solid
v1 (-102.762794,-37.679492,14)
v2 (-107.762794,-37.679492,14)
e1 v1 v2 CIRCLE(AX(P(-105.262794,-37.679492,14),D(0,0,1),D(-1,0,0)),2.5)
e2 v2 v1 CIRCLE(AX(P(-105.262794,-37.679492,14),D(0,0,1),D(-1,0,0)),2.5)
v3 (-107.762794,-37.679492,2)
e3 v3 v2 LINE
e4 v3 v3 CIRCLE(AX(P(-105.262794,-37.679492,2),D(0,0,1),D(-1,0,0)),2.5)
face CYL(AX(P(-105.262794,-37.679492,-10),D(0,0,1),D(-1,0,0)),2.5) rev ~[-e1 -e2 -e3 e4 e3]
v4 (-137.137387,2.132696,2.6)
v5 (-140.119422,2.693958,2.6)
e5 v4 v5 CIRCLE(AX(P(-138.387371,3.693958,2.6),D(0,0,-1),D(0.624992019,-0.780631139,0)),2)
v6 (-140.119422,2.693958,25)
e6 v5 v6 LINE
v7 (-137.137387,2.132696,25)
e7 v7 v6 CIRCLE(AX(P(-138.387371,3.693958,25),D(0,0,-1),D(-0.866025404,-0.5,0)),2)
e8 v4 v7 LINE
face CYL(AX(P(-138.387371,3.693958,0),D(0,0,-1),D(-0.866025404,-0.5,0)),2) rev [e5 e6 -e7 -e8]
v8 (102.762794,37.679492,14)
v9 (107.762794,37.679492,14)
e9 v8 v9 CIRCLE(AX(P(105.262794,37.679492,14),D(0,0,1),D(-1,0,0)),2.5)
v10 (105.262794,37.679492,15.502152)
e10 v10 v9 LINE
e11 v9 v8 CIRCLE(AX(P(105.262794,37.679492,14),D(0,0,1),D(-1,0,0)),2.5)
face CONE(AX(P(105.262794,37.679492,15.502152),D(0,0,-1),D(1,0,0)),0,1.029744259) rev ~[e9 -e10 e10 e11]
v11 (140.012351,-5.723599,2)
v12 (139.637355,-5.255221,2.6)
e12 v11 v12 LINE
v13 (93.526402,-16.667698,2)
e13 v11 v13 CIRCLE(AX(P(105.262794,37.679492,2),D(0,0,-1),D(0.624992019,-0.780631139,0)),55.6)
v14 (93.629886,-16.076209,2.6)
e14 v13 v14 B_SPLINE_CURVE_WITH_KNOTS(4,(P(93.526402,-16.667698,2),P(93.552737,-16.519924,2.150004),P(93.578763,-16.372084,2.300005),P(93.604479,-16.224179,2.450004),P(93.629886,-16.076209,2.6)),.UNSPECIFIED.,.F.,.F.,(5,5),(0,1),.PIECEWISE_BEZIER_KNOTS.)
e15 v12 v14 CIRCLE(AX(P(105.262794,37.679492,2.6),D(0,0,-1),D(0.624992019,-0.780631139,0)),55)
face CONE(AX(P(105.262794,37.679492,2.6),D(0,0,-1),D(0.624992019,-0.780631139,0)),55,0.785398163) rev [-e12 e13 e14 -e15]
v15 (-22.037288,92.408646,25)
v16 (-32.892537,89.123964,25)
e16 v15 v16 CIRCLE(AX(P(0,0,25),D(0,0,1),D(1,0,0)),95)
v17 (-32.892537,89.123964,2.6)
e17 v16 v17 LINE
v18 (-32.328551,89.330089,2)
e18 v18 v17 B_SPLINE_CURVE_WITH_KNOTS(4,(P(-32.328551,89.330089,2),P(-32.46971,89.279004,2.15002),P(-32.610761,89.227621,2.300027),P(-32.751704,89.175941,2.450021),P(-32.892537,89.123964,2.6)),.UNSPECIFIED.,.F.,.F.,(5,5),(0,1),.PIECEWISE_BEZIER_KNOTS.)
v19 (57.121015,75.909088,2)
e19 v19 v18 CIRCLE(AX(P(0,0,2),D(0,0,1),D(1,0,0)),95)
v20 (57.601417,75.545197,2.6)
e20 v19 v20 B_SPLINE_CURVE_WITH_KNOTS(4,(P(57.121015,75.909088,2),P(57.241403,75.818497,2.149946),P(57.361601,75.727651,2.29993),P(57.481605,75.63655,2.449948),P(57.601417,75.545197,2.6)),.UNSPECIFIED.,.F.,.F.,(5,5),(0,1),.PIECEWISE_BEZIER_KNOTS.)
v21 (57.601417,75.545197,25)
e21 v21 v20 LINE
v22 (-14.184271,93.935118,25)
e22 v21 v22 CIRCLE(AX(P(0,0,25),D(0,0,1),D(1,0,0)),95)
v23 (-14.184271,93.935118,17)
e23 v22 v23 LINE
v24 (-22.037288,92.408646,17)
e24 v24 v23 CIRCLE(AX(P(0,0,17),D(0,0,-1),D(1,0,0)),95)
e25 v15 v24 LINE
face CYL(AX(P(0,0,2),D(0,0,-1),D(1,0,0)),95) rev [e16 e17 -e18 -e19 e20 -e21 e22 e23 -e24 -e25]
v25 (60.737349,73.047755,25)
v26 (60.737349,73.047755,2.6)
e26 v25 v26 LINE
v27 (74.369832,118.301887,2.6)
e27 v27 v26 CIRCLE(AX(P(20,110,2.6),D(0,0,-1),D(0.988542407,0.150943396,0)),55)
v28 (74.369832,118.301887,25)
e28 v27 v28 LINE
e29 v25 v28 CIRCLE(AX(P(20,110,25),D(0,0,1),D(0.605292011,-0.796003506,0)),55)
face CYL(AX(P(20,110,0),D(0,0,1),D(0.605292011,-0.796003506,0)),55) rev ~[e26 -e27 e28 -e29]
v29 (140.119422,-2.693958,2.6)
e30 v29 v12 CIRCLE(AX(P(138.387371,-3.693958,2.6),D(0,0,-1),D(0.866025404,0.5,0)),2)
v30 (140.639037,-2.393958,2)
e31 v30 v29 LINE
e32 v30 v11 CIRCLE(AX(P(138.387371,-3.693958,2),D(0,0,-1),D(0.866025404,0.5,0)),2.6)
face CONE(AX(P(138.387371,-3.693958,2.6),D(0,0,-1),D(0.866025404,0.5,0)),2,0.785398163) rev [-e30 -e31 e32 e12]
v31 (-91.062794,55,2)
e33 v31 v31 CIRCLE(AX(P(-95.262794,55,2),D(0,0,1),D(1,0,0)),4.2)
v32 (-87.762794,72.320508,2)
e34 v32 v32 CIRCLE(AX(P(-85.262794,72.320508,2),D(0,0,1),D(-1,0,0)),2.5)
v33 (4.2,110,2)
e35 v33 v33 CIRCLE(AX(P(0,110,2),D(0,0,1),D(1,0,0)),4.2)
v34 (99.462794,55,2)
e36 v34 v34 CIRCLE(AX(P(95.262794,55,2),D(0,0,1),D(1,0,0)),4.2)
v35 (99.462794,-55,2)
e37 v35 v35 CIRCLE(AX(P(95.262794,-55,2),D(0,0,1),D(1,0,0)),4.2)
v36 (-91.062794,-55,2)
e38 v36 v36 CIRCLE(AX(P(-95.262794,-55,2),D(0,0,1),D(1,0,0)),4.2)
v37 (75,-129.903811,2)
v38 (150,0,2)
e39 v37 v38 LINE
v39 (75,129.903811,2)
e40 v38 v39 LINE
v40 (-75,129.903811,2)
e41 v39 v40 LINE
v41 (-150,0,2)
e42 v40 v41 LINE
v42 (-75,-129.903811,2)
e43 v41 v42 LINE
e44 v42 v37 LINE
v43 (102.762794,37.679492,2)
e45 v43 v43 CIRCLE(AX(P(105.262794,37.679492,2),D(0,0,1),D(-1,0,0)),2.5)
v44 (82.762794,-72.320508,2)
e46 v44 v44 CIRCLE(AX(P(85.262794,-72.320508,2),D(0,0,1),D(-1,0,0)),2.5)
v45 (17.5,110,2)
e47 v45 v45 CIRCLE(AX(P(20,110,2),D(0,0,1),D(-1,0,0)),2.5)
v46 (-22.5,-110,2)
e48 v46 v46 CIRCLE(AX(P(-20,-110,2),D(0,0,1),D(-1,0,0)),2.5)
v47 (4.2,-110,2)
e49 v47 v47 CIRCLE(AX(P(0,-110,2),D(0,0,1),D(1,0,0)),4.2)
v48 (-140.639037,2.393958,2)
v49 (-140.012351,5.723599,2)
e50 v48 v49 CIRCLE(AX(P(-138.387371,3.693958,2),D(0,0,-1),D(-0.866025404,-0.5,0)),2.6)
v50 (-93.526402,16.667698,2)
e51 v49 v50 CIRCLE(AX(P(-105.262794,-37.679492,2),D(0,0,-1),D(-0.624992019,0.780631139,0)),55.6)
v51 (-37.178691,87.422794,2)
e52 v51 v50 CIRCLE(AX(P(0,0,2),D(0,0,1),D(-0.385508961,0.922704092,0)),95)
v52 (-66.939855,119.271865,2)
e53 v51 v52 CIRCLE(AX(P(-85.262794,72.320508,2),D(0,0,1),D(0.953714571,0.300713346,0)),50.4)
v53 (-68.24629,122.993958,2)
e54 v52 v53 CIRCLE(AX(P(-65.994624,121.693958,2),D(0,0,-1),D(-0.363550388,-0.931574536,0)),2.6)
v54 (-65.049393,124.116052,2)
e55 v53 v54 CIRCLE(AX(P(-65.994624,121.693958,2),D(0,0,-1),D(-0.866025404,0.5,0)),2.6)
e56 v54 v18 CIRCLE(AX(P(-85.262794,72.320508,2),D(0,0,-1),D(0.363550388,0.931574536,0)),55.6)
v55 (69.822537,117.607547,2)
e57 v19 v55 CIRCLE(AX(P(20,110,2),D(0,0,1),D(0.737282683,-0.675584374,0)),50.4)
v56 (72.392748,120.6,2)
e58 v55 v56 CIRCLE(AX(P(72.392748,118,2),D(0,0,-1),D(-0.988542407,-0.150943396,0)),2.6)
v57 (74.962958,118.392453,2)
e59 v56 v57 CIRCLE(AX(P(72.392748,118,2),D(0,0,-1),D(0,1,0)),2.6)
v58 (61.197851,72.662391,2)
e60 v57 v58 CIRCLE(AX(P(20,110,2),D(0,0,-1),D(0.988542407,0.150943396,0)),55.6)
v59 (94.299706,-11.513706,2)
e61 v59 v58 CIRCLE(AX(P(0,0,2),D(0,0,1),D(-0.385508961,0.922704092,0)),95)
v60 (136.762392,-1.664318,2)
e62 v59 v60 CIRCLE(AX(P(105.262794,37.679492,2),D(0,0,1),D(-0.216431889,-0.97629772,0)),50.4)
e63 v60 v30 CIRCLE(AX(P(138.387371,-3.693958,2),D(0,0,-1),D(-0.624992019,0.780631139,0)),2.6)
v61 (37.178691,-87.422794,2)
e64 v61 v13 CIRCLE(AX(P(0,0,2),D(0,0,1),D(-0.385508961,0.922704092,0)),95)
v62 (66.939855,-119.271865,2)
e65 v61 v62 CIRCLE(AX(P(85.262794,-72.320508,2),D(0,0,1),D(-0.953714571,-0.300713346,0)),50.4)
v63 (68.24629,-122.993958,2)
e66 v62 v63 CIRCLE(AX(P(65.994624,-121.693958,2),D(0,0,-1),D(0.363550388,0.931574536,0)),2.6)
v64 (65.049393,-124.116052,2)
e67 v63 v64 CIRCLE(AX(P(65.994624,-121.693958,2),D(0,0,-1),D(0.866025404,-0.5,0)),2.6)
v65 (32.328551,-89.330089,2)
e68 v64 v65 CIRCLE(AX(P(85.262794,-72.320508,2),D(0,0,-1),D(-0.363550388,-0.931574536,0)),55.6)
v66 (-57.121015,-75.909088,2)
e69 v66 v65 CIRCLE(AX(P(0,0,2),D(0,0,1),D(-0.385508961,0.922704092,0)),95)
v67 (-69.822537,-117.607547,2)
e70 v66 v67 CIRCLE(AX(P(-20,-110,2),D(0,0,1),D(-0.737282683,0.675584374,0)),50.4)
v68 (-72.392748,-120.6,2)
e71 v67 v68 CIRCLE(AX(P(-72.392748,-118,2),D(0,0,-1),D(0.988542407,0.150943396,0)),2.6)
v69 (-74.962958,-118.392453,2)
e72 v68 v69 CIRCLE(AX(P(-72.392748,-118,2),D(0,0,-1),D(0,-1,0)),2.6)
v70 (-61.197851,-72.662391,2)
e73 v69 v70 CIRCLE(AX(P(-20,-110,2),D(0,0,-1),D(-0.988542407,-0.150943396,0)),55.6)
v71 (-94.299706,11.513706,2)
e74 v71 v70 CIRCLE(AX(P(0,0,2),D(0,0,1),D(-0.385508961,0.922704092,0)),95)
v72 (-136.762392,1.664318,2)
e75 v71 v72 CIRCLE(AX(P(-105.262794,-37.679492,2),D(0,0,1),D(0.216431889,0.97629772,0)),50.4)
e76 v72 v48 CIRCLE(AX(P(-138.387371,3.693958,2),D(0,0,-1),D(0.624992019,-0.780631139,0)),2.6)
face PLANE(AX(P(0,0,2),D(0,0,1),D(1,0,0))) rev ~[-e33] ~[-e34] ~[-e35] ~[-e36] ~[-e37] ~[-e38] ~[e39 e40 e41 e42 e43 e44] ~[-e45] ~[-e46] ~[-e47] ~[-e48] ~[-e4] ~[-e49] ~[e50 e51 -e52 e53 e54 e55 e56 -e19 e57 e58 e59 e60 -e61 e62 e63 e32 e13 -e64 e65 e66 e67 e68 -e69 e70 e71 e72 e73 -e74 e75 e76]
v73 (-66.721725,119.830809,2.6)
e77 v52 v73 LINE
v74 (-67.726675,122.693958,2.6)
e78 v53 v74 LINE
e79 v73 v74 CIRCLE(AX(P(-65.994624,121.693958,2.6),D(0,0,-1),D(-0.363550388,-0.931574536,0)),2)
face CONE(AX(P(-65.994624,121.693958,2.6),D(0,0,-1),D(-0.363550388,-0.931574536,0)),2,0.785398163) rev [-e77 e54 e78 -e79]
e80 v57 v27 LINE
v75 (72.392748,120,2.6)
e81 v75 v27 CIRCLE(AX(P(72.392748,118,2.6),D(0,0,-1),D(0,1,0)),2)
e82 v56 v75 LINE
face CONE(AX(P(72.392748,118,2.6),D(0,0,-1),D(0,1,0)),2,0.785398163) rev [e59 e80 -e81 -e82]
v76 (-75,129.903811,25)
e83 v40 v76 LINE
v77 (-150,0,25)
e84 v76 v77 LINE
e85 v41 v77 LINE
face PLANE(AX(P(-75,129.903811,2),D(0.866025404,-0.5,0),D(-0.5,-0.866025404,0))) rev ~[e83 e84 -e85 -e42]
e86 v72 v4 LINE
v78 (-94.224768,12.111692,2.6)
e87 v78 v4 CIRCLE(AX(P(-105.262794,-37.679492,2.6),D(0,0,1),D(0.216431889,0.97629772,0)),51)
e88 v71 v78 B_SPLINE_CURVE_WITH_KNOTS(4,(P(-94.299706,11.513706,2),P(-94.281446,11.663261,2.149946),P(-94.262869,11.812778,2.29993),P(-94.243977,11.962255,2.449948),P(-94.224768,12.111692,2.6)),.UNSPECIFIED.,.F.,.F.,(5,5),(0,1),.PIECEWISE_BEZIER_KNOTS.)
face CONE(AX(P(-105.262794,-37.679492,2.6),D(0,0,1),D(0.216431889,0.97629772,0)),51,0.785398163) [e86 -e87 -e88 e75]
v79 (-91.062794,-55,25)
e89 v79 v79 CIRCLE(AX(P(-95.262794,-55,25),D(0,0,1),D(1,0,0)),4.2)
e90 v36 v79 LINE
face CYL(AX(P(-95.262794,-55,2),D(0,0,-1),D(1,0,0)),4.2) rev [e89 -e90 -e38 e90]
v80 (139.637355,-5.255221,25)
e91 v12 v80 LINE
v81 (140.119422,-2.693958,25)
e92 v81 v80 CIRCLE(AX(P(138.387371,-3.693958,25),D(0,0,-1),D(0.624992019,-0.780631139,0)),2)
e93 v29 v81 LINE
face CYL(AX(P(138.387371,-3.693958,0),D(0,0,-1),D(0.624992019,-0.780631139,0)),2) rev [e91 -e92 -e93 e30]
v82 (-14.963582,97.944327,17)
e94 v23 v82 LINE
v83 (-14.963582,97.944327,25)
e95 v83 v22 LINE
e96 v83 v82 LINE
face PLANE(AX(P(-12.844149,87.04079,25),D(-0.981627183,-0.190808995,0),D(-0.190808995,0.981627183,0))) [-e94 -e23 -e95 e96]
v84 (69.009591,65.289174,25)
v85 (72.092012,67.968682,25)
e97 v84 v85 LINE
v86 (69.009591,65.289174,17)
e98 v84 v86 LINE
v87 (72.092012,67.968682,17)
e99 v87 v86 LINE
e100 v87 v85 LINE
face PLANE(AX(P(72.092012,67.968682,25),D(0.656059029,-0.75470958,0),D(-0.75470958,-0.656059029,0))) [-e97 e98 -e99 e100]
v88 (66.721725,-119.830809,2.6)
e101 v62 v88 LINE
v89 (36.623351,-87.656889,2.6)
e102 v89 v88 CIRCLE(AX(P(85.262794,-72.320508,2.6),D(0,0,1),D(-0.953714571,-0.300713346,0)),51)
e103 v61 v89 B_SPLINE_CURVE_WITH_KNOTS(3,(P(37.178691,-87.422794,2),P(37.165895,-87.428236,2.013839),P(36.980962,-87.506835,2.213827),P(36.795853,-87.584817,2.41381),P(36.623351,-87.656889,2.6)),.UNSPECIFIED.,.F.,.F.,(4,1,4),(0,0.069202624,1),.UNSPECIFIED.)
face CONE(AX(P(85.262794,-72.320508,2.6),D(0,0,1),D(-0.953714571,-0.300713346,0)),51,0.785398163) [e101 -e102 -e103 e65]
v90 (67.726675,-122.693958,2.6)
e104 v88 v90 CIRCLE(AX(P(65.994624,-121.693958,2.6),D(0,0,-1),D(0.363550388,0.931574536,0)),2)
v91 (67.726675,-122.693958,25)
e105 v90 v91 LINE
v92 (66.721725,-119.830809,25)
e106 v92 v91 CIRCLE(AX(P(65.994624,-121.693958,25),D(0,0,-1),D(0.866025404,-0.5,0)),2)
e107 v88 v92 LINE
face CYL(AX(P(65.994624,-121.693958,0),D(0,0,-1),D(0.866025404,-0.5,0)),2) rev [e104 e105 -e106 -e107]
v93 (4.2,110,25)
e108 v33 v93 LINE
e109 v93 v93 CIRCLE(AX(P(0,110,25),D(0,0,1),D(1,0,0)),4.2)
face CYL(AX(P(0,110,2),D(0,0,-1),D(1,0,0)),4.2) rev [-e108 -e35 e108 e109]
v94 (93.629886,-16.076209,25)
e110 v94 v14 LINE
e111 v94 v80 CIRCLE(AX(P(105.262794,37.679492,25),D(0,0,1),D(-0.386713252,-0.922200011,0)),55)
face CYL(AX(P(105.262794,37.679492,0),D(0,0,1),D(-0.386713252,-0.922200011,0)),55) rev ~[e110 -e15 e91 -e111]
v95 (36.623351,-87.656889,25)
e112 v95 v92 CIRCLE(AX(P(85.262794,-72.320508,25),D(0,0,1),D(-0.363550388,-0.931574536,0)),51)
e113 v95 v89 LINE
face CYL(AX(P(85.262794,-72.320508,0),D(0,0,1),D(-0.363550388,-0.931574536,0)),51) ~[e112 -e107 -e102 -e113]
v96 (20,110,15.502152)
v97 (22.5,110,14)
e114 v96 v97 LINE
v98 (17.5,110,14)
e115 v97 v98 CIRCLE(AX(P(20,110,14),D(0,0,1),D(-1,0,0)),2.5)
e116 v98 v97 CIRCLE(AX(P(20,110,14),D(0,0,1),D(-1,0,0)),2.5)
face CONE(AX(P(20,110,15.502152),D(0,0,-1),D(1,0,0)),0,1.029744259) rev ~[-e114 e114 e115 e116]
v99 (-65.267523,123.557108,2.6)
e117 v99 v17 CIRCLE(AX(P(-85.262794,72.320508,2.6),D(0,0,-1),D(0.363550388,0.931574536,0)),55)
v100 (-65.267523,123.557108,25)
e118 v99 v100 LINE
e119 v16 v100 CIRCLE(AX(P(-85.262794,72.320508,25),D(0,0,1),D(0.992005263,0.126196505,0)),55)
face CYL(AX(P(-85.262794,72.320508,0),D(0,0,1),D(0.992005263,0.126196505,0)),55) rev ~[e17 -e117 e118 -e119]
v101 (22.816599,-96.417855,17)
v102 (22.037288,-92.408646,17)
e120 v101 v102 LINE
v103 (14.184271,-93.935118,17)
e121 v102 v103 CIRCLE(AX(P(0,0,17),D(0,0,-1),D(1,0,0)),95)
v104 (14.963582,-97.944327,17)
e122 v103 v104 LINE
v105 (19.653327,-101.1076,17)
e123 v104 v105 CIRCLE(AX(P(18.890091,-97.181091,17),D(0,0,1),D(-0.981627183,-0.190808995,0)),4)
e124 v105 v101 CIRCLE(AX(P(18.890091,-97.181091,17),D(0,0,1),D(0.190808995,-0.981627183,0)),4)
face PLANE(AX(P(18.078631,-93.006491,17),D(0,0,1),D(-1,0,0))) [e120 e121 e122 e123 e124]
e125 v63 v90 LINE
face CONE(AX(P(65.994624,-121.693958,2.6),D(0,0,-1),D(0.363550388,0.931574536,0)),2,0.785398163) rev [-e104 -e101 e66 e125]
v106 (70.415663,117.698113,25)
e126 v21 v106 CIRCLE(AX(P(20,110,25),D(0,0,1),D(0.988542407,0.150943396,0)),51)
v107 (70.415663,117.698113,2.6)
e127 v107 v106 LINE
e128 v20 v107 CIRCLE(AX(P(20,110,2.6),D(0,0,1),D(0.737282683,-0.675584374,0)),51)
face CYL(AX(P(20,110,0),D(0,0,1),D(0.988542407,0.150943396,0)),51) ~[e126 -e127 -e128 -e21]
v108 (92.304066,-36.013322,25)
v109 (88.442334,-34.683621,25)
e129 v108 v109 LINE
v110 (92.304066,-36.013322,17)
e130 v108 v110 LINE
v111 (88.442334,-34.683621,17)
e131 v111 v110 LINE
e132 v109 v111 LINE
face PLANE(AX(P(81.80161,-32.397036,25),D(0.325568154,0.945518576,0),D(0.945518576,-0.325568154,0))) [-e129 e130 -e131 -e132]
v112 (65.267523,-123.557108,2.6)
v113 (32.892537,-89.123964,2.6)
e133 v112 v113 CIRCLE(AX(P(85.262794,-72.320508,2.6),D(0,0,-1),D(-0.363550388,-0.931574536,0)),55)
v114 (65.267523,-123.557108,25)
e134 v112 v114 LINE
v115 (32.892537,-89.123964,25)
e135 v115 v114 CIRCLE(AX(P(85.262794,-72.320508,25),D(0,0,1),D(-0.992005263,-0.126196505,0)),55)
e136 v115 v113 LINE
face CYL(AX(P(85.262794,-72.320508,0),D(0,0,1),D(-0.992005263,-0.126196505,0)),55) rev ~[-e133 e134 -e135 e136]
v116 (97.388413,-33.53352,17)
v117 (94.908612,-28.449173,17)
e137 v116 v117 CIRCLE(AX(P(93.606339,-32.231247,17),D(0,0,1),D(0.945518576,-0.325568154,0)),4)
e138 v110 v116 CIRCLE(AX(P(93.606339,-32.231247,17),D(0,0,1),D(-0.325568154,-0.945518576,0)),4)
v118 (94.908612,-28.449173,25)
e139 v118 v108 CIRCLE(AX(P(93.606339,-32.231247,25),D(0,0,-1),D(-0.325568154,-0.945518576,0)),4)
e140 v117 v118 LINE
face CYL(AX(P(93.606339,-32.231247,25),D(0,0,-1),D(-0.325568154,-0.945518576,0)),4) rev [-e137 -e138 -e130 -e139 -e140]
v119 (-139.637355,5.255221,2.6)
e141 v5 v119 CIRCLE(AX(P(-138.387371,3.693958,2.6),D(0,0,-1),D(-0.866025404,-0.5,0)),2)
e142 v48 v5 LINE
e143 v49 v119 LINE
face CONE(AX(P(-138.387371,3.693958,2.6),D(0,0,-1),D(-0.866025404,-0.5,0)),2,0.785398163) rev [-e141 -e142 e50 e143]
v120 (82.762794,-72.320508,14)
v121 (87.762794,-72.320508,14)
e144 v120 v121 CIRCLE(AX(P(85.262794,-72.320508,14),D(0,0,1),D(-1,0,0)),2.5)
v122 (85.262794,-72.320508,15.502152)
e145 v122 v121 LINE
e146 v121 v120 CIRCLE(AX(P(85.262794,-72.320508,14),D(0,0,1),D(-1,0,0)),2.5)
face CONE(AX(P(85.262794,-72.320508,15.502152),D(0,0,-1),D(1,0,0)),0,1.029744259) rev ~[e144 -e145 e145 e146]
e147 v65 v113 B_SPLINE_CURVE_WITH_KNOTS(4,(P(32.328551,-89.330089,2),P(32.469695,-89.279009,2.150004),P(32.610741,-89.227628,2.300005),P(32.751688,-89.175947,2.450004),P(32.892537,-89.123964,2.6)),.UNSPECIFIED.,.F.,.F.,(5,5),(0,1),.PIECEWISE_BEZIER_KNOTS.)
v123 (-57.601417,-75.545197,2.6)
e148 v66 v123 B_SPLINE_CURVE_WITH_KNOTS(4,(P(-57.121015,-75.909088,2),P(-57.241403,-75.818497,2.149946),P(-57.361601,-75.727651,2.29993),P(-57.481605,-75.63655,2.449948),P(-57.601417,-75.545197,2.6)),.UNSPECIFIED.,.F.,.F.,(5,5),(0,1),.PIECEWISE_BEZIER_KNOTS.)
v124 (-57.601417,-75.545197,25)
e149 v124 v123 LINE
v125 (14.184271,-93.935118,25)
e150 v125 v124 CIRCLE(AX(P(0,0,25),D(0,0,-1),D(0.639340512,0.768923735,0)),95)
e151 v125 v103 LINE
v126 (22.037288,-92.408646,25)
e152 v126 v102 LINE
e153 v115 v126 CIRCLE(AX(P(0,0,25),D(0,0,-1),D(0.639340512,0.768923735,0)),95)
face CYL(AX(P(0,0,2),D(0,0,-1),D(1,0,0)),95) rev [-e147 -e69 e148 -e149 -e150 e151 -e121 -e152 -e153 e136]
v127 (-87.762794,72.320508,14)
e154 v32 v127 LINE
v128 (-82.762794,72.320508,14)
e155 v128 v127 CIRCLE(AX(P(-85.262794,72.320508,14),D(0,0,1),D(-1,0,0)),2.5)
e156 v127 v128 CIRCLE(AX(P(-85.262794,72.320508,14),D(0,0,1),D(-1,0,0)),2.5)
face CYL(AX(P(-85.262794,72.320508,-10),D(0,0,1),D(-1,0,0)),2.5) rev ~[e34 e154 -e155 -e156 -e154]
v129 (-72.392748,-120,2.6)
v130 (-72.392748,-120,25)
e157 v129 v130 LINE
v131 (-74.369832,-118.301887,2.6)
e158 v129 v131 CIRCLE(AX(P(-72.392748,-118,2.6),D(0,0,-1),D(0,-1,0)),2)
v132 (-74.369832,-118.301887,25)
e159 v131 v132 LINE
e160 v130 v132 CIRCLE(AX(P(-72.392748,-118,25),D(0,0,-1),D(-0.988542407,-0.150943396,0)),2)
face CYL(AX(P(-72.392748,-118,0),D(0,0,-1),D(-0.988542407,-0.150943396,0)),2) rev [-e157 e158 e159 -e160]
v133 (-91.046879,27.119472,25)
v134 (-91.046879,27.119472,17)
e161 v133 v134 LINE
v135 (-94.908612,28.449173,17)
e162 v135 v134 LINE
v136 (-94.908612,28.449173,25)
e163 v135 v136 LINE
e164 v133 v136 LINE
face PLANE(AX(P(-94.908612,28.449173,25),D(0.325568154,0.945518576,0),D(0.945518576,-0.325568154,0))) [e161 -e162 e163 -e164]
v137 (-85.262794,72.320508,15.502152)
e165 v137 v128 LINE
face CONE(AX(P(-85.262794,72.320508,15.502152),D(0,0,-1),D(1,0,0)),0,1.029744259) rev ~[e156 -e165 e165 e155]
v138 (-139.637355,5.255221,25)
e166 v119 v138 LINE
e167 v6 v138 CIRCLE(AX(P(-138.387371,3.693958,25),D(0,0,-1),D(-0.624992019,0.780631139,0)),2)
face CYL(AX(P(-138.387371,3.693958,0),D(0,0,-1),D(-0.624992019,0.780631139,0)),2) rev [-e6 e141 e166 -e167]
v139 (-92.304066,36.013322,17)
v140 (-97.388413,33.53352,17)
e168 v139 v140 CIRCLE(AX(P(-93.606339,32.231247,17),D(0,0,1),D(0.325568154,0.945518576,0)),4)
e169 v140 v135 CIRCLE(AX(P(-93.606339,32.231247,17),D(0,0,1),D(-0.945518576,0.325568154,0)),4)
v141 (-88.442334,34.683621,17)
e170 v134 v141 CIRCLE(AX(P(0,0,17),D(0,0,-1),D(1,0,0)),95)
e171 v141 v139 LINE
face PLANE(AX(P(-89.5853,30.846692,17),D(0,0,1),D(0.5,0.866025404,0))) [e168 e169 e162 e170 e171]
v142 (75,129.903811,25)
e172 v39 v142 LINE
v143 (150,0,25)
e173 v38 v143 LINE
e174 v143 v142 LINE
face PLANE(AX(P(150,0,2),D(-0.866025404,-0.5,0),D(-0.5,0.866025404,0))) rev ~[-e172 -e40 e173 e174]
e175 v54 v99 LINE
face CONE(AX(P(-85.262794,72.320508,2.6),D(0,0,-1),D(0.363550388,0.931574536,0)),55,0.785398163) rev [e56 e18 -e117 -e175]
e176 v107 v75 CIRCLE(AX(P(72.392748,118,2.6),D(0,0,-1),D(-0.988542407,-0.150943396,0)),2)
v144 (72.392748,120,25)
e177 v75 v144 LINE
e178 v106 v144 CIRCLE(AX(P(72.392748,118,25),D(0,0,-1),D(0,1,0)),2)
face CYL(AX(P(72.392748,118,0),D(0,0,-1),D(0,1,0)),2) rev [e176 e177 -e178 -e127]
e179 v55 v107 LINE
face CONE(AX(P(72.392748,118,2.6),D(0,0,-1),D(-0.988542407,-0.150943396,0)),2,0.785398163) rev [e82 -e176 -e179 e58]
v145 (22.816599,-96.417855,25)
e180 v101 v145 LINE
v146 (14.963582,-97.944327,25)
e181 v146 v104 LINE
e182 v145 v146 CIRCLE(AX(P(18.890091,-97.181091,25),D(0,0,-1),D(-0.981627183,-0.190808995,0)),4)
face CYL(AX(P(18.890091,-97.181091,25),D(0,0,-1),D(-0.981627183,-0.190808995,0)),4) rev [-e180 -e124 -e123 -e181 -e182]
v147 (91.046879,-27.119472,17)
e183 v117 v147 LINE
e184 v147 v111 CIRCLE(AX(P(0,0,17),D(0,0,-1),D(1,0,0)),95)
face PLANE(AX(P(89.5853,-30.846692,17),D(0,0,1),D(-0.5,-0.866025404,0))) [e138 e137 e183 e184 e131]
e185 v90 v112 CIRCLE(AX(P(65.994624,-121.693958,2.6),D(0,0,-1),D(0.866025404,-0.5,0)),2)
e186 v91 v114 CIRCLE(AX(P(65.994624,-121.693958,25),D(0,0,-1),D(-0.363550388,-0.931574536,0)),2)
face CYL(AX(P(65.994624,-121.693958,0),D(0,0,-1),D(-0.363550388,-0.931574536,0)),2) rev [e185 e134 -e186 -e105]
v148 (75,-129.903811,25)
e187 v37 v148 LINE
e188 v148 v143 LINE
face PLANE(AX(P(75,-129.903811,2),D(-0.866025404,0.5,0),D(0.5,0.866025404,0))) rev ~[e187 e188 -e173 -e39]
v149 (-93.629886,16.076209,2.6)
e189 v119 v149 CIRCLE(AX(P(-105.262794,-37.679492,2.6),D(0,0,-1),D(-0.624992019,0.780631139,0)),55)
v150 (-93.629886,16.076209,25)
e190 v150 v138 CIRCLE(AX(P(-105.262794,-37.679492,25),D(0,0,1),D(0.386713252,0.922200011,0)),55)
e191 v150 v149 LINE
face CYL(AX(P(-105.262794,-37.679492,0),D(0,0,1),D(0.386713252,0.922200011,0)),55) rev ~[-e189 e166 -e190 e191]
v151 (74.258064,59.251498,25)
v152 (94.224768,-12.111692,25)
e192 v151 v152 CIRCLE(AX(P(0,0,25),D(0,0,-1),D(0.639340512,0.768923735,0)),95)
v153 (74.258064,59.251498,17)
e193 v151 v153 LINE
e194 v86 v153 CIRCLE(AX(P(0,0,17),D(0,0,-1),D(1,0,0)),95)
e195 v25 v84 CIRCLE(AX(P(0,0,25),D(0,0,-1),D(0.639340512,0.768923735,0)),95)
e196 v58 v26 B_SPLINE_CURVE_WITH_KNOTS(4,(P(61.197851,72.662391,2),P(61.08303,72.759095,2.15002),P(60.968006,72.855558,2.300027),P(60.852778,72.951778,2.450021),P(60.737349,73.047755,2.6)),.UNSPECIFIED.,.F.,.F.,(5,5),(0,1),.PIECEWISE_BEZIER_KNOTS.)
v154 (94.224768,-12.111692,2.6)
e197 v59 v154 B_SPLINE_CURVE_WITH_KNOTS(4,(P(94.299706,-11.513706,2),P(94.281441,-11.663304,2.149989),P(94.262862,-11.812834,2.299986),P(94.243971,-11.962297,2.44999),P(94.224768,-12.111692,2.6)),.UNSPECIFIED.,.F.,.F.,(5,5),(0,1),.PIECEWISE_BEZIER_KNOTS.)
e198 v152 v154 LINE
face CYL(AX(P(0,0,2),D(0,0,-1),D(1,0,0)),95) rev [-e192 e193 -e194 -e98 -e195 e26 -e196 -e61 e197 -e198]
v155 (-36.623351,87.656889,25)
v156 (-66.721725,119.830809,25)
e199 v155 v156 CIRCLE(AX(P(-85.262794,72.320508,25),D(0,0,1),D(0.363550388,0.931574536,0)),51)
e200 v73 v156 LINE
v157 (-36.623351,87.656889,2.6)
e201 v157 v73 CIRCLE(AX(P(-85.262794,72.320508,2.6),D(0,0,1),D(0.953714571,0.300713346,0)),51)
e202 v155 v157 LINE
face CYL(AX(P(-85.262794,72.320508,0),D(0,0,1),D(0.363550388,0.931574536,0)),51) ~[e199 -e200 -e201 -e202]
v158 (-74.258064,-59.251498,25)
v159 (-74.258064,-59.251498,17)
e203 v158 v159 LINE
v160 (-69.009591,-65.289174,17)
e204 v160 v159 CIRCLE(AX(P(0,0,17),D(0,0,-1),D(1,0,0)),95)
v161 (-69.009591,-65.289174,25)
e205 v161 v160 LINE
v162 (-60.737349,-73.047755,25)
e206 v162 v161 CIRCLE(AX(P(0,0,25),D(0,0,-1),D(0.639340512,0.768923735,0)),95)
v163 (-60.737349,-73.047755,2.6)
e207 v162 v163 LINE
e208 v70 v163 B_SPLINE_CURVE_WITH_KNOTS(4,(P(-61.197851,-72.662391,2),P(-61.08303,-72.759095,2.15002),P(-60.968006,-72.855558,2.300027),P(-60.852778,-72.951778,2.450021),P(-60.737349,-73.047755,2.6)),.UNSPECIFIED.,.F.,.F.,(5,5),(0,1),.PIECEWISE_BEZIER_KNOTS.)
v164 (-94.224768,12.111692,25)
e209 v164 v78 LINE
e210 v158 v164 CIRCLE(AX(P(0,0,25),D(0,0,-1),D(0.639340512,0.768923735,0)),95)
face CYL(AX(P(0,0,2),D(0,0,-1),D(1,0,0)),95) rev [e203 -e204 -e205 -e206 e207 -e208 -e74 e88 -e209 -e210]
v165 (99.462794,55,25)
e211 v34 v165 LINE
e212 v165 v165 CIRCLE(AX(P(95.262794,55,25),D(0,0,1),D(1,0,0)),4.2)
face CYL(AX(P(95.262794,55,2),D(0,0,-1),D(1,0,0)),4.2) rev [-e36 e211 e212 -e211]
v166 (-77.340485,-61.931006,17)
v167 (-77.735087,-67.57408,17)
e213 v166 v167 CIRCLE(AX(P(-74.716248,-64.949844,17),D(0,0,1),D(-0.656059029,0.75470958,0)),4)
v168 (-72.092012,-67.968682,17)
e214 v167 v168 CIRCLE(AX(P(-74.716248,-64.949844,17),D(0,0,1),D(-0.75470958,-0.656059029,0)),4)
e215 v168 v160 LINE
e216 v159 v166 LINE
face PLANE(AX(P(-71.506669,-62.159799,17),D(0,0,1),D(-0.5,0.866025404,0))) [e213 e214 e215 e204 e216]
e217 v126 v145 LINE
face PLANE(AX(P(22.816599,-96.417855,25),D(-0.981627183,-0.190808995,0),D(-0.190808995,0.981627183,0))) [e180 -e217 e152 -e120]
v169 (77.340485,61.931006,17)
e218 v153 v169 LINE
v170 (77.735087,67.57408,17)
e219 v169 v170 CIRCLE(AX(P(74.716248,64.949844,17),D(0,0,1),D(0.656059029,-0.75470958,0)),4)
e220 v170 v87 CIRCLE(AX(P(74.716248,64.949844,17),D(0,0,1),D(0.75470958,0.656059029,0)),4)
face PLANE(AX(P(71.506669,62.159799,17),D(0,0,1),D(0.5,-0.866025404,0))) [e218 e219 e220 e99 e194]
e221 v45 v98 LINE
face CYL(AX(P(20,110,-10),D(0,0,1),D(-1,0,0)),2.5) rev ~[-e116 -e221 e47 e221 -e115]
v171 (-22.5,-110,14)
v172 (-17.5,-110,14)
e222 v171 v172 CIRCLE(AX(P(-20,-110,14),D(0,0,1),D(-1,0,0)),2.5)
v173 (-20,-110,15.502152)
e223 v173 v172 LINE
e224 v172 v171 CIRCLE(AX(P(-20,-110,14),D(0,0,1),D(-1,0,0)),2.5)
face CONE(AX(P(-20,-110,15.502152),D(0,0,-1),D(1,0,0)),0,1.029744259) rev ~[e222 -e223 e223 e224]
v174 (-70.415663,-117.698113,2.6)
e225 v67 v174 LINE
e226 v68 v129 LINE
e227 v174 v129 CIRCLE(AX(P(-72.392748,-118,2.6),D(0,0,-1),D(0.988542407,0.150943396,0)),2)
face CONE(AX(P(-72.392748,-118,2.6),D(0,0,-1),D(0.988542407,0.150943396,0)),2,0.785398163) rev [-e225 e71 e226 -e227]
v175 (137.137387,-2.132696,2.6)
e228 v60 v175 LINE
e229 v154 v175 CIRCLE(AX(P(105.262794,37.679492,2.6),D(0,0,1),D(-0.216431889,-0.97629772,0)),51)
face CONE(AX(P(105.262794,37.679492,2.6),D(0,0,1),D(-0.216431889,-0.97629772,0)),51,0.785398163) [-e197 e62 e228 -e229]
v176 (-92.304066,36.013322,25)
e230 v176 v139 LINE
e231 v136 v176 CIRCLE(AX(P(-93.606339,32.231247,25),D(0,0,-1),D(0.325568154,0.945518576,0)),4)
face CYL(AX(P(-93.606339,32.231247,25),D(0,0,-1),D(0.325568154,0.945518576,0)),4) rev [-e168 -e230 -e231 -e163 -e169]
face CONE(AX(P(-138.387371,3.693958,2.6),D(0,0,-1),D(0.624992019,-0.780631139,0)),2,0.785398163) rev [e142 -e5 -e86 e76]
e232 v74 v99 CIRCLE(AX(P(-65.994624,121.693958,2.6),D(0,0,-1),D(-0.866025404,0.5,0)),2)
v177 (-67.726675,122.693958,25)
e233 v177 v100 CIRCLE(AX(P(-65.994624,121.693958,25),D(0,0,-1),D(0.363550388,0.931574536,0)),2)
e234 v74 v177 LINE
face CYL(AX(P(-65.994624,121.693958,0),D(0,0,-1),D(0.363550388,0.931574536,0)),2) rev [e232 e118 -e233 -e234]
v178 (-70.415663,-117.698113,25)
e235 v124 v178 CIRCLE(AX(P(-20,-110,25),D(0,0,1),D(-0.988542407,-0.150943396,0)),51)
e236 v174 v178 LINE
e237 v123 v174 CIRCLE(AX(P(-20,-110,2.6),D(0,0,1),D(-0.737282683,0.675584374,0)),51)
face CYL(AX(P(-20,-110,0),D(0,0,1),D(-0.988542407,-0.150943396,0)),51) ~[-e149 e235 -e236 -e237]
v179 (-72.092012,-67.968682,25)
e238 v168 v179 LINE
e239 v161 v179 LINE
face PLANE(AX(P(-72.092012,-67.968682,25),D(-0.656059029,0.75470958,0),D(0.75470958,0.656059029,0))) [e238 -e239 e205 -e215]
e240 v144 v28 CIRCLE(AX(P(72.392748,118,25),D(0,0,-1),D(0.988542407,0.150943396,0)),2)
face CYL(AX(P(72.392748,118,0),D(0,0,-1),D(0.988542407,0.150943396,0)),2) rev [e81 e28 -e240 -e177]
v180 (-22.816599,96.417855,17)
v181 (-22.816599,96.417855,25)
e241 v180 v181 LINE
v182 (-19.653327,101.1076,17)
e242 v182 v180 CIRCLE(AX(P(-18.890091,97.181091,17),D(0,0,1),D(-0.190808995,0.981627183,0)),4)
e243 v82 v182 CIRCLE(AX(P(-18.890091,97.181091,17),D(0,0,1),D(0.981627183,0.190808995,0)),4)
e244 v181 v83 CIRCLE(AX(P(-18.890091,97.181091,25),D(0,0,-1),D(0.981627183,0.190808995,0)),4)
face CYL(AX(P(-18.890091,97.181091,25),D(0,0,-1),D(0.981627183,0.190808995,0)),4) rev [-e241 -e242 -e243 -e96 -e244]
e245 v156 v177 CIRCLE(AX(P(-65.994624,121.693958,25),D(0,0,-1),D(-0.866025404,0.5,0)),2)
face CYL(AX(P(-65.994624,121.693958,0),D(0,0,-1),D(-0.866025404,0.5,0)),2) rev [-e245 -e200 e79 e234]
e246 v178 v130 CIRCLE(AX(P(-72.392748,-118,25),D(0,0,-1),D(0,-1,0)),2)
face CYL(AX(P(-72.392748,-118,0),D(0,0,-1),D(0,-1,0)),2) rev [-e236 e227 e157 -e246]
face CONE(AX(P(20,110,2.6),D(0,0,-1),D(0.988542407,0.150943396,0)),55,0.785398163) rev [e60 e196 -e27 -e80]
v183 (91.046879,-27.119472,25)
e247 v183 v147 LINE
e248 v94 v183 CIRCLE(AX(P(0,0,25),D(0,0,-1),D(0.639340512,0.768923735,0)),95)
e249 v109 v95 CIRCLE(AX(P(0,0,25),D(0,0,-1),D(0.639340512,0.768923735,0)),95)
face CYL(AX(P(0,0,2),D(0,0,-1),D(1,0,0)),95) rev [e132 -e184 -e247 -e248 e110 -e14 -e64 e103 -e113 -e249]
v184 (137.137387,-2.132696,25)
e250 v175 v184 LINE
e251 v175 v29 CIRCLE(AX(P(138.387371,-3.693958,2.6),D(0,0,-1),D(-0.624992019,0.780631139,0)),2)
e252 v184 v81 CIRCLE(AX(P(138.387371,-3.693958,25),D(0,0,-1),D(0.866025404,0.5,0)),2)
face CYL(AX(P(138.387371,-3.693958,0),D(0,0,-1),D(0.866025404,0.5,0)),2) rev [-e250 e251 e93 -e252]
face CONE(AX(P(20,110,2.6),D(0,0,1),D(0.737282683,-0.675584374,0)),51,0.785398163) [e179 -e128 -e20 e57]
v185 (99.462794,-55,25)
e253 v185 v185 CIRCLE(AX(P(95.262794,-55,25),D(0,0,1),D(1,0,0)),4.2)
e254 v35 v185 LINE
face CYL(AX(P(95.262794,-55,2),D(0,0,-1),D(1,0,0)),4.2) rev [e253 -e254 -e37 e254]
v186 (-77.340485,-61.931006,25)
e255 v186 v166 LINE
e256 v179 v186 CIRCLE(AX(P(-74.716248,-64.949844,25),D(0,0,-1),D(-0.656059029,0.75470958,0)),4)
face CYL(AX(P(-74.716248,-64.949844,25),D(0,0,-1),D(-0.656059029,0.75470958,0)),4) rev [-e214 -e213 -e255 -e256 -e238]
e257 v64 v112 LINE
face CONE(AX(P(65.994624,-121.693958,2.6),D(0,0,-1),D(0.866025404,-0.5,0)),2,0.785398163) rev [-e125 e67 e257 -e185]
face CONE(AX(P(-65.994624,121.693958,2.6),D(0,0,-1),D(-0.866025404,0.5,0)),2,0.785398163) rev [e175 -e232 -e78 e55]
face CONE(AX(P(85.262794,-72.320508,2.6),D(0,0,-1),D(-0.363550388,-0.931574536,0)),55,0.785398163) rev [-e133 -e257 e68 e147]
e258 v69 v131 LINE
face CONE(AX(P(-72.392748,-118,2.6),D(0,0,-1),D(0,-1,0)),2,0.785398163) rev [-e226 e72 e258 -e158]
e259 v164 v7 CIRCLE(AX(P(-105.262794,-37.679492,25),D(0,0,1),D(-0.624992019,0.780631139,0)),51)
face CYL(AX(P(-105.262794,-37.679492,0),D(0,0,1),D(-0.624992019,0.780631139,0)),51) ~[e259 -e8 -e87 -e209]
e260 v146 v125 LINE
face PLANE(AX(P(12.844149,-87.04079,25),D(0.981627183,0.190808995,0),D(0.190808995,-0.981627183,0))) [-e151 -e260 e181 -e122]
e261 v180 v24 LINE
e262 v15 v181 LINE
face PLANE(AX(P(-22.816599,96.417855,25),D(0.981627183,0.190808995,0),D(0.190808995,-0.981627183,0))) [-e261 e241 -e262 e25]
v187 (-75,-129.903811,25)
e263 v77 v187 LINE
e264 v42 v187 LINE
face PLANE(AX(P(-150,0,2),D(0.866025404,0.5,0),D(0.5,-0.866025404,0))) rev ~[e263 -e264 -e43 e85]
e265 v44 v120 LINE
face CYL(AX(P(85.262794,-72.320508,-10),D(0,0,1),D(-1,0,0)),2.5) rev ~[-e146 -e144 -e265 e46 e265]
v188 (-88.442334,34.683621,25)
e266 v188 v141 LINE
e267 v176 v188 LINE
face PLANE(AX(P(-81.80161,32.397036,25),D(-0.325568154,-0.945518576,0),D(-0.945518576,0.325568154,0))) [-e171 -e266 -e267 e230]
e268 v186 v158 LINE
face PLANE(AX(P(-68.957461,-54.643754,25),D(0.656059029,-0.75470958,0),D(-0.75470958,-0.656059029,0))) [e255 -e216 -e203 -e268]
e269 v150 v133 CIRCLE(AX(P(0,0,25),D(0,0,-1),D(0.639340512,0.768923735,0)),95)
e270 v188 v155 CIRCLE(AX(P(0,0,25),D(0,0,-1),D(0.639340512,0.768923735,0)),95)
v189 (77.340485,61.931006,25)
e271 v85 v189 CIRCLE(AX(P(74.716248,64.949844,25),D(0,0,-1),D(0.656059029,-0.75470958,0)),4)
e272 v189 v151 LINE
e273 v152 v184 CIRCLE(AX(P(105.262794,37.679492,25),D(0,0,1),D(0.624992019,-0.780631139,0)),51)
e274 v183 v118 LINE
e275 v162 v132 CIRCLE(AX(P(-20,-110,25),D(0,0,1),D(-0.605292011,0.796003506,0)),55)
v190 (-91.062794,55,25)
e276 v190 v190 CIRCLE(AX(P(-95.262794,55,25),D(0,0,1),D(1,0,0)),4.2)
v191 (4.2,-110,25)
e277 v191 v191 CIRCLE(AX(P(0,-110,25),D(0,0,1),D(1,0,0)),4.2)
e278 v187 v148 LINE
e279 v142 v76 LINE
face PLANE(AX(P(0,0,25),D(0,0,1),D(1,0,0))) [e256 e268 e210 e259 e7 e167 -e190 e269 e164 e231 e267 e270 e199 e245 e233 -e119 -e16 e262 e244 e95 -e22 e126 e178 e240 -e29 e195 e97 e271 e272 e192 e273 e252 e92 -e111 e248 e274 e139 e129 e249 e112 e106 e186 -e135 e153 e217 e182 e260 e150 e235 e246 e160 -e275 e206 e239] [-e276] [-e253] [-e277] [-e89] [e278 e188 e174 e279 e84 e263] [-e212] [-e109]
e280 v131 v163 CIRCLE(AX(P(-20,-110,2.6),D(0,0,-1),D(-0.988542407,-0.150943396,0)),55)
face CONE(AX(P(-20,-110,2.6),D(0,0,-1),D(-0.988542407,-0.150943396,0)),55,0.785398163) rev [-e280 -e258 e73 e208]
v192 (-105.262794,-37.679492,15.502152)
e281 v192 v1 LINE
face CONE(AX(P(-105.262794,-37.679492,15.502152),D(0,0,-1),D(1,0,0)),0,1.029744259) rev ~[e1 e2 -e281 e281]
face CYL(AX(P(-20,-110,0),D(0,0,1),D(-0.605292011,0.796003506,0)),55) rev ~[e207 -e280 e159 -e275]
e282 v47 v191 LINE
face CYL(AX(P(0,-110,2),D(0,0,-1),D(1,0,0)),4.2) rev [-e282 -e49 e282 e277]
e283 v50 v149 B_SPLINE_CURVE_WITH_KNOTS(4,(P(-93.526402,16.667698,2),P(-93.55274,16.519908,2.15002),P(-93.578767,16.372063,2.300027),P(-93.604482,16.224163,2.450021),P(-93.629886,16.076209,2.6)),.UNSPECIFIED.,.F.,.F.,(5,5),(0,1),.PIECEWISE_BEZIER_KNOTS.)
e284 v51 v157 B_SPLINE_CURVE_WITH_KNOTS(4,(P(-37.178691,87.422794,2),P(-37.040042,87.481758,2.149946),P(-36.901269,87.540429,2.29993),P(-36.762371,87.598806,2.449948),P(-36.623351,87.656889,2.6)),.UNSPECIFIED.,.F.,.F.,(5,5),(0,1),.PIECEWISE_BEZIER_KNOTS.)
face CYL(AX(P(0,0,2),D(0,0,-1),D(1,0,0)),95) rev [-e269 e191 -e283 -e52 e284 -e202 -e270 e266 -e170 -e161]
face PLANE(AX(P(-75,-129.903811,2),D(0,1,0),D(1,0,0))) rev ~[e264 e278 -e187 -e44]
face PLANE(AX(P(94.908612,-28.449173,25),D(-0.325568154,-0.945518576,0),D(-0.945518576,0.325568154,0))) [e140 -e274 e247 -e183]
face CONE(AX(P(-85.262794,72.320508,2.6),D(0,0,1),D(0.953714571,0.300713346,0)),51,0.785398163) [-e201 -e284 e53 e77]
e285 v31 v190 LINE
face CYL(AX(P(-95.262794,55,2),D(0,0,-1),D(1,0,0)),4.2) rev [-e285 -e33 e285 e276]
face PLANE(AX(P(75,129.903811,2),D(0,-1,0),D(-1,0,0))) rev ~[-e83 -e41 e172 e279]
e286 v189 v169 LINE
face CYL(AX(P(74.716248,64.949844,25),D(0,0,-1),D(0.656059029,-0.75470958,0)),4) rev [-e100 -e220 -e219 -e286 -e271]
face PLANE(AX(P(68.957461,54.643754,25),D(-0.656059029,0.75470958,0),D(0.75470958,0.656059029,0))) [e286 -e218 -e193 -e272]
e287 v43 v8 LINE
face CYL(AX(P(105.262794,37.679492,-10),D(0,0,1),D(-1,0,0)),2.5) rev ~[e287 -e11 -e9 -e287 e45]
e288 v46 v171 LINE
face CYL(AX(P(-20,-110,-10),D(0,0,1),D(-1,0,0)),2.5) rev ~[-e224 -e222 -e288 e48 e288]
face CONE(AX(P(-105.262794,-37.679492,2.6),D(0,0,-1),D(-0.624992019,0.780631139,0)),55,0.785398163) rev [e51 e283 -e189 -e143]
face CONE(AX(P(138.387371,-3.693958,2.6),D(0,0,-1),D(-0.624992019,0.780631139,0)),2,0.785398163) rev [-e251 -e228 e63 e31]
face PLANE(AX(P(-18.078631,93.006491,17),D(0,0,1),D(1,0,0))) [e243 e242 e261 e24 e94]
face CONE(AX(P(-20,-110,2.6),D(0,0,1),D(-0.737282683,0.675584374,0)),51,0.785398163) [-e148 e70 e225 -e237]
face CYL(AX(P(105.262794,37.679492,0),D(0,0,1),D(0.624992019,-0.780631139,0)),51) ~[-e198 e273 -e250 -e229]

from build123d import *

# Parameters (mm, degrees)
F2_START      = 2
F0_R          = 4.2
F0_R_2        = 95
F2_DEPTH      = 23
F4_DEPTH      = 35
F4_DEPTH_BACK = 10
F5_COUNT      = 6
F8_DEPTH      = 8
F8_DEPTH_BACK = 10
F9_COUNT      = 6
F12_D         = 5
F12_DEPTH     = 12
F12_START     = 2
F12_TIP       = 1.5021515476
F13_SIZE      = 0.6


with BuildPart() as f2:
    # F0 (on Top) → F2 (new body)
    with BuildSketch(Plane.XY.offset(F2_START)):
        Polygon((75, 129.9038105677), (-75, 129.9038105677), (-150, 0), (-75, -129.9038105677), (75, -129.9038105677), (150, 0), align=None)
        with Locations((-95.2627944163, -55)):
            Circle(F0_R, mode=Mode.SUBTRACT)
        with Locations((0, -110)):
            Circle(F0_R, mode=Mode.SUBTRACT)
        with Locations((95.2627944163, -55)):
            Circle(F0_R, mode=Mode.SUBTRACT)
        with Locations((-95.2627944163, 55)):
            Circle(F0_R, mode=Mode.SUBTRACT)
        Circle(F0_R_2, mode=Mode.SUBTRACT)
        with Locations((95.2627944163, 55)):
            Circle(F0_R, mode=Mode.SUBTRACT)
        with Locations((0, 110)):
            Circle(F0_R, mode=Mode.SUBTRACT)
    extrude(amount=F2_DEPTH)


with BuildPart() as f4:
    # F3 (on Top) → F4 (new body, two sides)
    with BuildSketch(Plane.XY) as f4_sk:
        with BuildLine():
            ThreePointArc((-34.5435296861, 77.6643068393), (-32.6327882373, 78.4863117484), (-30.7025049427, 79.2613158498))
            ThreePointArc((-30.7025049427, 79.2613158498), (-41.9019572207, 106.1559598637), (-65.2675230757, 123.5571075336))
            ThreePointArc((-65.2675230757, 123.5571075336), (-66.656996648, 123.5810891624), (-67.7266746593, 122.6939584625))
            ThreePointArc((-67.7266746593, 122.6939584625), (-67.8817545517, 121.0315856662), (-66.7217246277, 119.8308093913))
            ThreePointArc((-66.7217246277, 119.8308093913), (-44.7195832857, 103.2599332678), (-34.5435296861, 77.6643068393))
        make_face()
    extrude(amount=F4_DEPTH)
    extrude(f4_sk.sketch, amount=-F4_DEPTH_BACK)


with BuildPart() as f5_1:
    # F5: instance of F4
    add(f4.part.rotate(Axis((0, 0, -0.1854561269), (0, 0, 1)), 1 * 360 / F5_COUNT))


with BuildPart() as f5_2:
    # F5: instance of F4
    add(f4.part.rotate(Axis((0, 0, -0.1854561269), (0, 0, 1)), 2 * 360 / F5_COUNT))


with BuildPart() as f5_3:
    # F5: instance of F4
    add(f4.part.rotate(Axis((0, 0, -0.1854561269), (0, 0, 1)), 3 * 360 / F5_COUNT))


with BuildPart() as f5_4:
    # F5: instance of F4
    add(f4.part.rotate(Axis((0, 0, -0.1854561269), (0, 0, 1)), 4 * 360 / F5_COUNT))


with BuildPart() as f5_5:
    # F5: instance of F4
    add(f4.part.rotate(Axis((0, 0, -0.1854561269), (0, 0, 1)), 5 * 360 / F5_COUNT))


with BuildPart() as f2_1:
    add(f2.part)

    # F6: cut F4, F5_5, F5_4, F5_3, F5_2, F5_1
    add(f4.part, mode=Mode.SUBTRACT)
    add(f5_5.part, mode=Mode.SUBTRACT)
    add(f5_4.part, mode=Mode.SUBTRACT)
    add(f5_3.part, mode=Mode.SUBTRACT)
    add(f5_2.part, mode=Mode.SUBTRACT)
    add(f5_1.part, mode=Mode.SUBTRACT)

    # F9: F8 ×6 about axis
    f9_axis = Axis((0, 0, -0.1854561269), (0, 0, 1))


with BuildPart() as f8:
    # F7 (on face) → F8 (new body, two sides)
    with BuildSketch(Plane.XY.offset(25)) as f8_sk:
        with BuildLine():
            ThreePointArc((-14.9635818085, 97.9443271428), (-16.6533189284, 100.4972414515), (-19.6533265238, 101.1075998951))
            ThreePointArc((-19.6533265238, 101.1075998951), (-22.2062408325, 99.4178627752), (-22.8165992761, 96.4178551798))
            Line((-22.8165992761, 96.4178551798), (-20.6971664161, 85.5143183486))
            Line((-20.6971664161, 85.5143183486), (-16.7706576823, 86.2775543301))
            Line((-16.7706576823, 86.2775543301), (-12.8441489485, 87.0407903117))
            Line((-12.8441489485, 87.0407903117), (-14.9635818085, 97.9443271428))
        make_face()
    extrude(amount=-F8_DEPTH)
    extrude(f8_sk.sketch, amount=F8_DEPTH_BACK)


with BuildPart() as f2_2:
    add(f2_1.part)
    for i in range(1, F9_COUNT):
        add(f8.part.rotate(f9_axis, i * 360 / F9_COUNT), mode=Mode.SUBTRACT)

    # F9#seed: cut F8
    add(f8.part, mode=Mode.SUBTRACT)

    # F12
    # its depths count from where the whole tool has entered the part; down to there all is cleared
    with Locations(Plane(origin=(0, 0, 0), x_dir=(1, 0, 0), z_dir=(0, 0, -1)).offset(-F12_START)):
        with Locations((-85.2627944163, -72.3205080757), (20, -110), (105.2627944163, -37.6794919243), (85.2627944163, 72.3205080757), (-20, 110), (-105.2627944163, 37.6794919243)):
            Hole(F12_D / 2, depth=F12_DEPTH)
            with Locations((0, 0, -(F12_DEPTH + F12_TIP / 2))):  # 118° drill point
                Cone(0, F12_D / 2, F12_TIP, mode=Mode.SUBTRACT)

    # F13
    f13_edges = [f2_2.edges().sort_by_distance(p)[0] for p in [
        (48.019062, -107.161639, 2),
        (116.814232, -11.995092, 2),
        (68.79517, 95.166547, 2),
        (-48.019062, 107.161639, 2),
        (-116.814232, 11.995092, 2),
        (-68.79517, -95.166547, 2),
    ]]
    chamfer(f13_edges, length=F13_SIZE)


solid = f2_2.part
